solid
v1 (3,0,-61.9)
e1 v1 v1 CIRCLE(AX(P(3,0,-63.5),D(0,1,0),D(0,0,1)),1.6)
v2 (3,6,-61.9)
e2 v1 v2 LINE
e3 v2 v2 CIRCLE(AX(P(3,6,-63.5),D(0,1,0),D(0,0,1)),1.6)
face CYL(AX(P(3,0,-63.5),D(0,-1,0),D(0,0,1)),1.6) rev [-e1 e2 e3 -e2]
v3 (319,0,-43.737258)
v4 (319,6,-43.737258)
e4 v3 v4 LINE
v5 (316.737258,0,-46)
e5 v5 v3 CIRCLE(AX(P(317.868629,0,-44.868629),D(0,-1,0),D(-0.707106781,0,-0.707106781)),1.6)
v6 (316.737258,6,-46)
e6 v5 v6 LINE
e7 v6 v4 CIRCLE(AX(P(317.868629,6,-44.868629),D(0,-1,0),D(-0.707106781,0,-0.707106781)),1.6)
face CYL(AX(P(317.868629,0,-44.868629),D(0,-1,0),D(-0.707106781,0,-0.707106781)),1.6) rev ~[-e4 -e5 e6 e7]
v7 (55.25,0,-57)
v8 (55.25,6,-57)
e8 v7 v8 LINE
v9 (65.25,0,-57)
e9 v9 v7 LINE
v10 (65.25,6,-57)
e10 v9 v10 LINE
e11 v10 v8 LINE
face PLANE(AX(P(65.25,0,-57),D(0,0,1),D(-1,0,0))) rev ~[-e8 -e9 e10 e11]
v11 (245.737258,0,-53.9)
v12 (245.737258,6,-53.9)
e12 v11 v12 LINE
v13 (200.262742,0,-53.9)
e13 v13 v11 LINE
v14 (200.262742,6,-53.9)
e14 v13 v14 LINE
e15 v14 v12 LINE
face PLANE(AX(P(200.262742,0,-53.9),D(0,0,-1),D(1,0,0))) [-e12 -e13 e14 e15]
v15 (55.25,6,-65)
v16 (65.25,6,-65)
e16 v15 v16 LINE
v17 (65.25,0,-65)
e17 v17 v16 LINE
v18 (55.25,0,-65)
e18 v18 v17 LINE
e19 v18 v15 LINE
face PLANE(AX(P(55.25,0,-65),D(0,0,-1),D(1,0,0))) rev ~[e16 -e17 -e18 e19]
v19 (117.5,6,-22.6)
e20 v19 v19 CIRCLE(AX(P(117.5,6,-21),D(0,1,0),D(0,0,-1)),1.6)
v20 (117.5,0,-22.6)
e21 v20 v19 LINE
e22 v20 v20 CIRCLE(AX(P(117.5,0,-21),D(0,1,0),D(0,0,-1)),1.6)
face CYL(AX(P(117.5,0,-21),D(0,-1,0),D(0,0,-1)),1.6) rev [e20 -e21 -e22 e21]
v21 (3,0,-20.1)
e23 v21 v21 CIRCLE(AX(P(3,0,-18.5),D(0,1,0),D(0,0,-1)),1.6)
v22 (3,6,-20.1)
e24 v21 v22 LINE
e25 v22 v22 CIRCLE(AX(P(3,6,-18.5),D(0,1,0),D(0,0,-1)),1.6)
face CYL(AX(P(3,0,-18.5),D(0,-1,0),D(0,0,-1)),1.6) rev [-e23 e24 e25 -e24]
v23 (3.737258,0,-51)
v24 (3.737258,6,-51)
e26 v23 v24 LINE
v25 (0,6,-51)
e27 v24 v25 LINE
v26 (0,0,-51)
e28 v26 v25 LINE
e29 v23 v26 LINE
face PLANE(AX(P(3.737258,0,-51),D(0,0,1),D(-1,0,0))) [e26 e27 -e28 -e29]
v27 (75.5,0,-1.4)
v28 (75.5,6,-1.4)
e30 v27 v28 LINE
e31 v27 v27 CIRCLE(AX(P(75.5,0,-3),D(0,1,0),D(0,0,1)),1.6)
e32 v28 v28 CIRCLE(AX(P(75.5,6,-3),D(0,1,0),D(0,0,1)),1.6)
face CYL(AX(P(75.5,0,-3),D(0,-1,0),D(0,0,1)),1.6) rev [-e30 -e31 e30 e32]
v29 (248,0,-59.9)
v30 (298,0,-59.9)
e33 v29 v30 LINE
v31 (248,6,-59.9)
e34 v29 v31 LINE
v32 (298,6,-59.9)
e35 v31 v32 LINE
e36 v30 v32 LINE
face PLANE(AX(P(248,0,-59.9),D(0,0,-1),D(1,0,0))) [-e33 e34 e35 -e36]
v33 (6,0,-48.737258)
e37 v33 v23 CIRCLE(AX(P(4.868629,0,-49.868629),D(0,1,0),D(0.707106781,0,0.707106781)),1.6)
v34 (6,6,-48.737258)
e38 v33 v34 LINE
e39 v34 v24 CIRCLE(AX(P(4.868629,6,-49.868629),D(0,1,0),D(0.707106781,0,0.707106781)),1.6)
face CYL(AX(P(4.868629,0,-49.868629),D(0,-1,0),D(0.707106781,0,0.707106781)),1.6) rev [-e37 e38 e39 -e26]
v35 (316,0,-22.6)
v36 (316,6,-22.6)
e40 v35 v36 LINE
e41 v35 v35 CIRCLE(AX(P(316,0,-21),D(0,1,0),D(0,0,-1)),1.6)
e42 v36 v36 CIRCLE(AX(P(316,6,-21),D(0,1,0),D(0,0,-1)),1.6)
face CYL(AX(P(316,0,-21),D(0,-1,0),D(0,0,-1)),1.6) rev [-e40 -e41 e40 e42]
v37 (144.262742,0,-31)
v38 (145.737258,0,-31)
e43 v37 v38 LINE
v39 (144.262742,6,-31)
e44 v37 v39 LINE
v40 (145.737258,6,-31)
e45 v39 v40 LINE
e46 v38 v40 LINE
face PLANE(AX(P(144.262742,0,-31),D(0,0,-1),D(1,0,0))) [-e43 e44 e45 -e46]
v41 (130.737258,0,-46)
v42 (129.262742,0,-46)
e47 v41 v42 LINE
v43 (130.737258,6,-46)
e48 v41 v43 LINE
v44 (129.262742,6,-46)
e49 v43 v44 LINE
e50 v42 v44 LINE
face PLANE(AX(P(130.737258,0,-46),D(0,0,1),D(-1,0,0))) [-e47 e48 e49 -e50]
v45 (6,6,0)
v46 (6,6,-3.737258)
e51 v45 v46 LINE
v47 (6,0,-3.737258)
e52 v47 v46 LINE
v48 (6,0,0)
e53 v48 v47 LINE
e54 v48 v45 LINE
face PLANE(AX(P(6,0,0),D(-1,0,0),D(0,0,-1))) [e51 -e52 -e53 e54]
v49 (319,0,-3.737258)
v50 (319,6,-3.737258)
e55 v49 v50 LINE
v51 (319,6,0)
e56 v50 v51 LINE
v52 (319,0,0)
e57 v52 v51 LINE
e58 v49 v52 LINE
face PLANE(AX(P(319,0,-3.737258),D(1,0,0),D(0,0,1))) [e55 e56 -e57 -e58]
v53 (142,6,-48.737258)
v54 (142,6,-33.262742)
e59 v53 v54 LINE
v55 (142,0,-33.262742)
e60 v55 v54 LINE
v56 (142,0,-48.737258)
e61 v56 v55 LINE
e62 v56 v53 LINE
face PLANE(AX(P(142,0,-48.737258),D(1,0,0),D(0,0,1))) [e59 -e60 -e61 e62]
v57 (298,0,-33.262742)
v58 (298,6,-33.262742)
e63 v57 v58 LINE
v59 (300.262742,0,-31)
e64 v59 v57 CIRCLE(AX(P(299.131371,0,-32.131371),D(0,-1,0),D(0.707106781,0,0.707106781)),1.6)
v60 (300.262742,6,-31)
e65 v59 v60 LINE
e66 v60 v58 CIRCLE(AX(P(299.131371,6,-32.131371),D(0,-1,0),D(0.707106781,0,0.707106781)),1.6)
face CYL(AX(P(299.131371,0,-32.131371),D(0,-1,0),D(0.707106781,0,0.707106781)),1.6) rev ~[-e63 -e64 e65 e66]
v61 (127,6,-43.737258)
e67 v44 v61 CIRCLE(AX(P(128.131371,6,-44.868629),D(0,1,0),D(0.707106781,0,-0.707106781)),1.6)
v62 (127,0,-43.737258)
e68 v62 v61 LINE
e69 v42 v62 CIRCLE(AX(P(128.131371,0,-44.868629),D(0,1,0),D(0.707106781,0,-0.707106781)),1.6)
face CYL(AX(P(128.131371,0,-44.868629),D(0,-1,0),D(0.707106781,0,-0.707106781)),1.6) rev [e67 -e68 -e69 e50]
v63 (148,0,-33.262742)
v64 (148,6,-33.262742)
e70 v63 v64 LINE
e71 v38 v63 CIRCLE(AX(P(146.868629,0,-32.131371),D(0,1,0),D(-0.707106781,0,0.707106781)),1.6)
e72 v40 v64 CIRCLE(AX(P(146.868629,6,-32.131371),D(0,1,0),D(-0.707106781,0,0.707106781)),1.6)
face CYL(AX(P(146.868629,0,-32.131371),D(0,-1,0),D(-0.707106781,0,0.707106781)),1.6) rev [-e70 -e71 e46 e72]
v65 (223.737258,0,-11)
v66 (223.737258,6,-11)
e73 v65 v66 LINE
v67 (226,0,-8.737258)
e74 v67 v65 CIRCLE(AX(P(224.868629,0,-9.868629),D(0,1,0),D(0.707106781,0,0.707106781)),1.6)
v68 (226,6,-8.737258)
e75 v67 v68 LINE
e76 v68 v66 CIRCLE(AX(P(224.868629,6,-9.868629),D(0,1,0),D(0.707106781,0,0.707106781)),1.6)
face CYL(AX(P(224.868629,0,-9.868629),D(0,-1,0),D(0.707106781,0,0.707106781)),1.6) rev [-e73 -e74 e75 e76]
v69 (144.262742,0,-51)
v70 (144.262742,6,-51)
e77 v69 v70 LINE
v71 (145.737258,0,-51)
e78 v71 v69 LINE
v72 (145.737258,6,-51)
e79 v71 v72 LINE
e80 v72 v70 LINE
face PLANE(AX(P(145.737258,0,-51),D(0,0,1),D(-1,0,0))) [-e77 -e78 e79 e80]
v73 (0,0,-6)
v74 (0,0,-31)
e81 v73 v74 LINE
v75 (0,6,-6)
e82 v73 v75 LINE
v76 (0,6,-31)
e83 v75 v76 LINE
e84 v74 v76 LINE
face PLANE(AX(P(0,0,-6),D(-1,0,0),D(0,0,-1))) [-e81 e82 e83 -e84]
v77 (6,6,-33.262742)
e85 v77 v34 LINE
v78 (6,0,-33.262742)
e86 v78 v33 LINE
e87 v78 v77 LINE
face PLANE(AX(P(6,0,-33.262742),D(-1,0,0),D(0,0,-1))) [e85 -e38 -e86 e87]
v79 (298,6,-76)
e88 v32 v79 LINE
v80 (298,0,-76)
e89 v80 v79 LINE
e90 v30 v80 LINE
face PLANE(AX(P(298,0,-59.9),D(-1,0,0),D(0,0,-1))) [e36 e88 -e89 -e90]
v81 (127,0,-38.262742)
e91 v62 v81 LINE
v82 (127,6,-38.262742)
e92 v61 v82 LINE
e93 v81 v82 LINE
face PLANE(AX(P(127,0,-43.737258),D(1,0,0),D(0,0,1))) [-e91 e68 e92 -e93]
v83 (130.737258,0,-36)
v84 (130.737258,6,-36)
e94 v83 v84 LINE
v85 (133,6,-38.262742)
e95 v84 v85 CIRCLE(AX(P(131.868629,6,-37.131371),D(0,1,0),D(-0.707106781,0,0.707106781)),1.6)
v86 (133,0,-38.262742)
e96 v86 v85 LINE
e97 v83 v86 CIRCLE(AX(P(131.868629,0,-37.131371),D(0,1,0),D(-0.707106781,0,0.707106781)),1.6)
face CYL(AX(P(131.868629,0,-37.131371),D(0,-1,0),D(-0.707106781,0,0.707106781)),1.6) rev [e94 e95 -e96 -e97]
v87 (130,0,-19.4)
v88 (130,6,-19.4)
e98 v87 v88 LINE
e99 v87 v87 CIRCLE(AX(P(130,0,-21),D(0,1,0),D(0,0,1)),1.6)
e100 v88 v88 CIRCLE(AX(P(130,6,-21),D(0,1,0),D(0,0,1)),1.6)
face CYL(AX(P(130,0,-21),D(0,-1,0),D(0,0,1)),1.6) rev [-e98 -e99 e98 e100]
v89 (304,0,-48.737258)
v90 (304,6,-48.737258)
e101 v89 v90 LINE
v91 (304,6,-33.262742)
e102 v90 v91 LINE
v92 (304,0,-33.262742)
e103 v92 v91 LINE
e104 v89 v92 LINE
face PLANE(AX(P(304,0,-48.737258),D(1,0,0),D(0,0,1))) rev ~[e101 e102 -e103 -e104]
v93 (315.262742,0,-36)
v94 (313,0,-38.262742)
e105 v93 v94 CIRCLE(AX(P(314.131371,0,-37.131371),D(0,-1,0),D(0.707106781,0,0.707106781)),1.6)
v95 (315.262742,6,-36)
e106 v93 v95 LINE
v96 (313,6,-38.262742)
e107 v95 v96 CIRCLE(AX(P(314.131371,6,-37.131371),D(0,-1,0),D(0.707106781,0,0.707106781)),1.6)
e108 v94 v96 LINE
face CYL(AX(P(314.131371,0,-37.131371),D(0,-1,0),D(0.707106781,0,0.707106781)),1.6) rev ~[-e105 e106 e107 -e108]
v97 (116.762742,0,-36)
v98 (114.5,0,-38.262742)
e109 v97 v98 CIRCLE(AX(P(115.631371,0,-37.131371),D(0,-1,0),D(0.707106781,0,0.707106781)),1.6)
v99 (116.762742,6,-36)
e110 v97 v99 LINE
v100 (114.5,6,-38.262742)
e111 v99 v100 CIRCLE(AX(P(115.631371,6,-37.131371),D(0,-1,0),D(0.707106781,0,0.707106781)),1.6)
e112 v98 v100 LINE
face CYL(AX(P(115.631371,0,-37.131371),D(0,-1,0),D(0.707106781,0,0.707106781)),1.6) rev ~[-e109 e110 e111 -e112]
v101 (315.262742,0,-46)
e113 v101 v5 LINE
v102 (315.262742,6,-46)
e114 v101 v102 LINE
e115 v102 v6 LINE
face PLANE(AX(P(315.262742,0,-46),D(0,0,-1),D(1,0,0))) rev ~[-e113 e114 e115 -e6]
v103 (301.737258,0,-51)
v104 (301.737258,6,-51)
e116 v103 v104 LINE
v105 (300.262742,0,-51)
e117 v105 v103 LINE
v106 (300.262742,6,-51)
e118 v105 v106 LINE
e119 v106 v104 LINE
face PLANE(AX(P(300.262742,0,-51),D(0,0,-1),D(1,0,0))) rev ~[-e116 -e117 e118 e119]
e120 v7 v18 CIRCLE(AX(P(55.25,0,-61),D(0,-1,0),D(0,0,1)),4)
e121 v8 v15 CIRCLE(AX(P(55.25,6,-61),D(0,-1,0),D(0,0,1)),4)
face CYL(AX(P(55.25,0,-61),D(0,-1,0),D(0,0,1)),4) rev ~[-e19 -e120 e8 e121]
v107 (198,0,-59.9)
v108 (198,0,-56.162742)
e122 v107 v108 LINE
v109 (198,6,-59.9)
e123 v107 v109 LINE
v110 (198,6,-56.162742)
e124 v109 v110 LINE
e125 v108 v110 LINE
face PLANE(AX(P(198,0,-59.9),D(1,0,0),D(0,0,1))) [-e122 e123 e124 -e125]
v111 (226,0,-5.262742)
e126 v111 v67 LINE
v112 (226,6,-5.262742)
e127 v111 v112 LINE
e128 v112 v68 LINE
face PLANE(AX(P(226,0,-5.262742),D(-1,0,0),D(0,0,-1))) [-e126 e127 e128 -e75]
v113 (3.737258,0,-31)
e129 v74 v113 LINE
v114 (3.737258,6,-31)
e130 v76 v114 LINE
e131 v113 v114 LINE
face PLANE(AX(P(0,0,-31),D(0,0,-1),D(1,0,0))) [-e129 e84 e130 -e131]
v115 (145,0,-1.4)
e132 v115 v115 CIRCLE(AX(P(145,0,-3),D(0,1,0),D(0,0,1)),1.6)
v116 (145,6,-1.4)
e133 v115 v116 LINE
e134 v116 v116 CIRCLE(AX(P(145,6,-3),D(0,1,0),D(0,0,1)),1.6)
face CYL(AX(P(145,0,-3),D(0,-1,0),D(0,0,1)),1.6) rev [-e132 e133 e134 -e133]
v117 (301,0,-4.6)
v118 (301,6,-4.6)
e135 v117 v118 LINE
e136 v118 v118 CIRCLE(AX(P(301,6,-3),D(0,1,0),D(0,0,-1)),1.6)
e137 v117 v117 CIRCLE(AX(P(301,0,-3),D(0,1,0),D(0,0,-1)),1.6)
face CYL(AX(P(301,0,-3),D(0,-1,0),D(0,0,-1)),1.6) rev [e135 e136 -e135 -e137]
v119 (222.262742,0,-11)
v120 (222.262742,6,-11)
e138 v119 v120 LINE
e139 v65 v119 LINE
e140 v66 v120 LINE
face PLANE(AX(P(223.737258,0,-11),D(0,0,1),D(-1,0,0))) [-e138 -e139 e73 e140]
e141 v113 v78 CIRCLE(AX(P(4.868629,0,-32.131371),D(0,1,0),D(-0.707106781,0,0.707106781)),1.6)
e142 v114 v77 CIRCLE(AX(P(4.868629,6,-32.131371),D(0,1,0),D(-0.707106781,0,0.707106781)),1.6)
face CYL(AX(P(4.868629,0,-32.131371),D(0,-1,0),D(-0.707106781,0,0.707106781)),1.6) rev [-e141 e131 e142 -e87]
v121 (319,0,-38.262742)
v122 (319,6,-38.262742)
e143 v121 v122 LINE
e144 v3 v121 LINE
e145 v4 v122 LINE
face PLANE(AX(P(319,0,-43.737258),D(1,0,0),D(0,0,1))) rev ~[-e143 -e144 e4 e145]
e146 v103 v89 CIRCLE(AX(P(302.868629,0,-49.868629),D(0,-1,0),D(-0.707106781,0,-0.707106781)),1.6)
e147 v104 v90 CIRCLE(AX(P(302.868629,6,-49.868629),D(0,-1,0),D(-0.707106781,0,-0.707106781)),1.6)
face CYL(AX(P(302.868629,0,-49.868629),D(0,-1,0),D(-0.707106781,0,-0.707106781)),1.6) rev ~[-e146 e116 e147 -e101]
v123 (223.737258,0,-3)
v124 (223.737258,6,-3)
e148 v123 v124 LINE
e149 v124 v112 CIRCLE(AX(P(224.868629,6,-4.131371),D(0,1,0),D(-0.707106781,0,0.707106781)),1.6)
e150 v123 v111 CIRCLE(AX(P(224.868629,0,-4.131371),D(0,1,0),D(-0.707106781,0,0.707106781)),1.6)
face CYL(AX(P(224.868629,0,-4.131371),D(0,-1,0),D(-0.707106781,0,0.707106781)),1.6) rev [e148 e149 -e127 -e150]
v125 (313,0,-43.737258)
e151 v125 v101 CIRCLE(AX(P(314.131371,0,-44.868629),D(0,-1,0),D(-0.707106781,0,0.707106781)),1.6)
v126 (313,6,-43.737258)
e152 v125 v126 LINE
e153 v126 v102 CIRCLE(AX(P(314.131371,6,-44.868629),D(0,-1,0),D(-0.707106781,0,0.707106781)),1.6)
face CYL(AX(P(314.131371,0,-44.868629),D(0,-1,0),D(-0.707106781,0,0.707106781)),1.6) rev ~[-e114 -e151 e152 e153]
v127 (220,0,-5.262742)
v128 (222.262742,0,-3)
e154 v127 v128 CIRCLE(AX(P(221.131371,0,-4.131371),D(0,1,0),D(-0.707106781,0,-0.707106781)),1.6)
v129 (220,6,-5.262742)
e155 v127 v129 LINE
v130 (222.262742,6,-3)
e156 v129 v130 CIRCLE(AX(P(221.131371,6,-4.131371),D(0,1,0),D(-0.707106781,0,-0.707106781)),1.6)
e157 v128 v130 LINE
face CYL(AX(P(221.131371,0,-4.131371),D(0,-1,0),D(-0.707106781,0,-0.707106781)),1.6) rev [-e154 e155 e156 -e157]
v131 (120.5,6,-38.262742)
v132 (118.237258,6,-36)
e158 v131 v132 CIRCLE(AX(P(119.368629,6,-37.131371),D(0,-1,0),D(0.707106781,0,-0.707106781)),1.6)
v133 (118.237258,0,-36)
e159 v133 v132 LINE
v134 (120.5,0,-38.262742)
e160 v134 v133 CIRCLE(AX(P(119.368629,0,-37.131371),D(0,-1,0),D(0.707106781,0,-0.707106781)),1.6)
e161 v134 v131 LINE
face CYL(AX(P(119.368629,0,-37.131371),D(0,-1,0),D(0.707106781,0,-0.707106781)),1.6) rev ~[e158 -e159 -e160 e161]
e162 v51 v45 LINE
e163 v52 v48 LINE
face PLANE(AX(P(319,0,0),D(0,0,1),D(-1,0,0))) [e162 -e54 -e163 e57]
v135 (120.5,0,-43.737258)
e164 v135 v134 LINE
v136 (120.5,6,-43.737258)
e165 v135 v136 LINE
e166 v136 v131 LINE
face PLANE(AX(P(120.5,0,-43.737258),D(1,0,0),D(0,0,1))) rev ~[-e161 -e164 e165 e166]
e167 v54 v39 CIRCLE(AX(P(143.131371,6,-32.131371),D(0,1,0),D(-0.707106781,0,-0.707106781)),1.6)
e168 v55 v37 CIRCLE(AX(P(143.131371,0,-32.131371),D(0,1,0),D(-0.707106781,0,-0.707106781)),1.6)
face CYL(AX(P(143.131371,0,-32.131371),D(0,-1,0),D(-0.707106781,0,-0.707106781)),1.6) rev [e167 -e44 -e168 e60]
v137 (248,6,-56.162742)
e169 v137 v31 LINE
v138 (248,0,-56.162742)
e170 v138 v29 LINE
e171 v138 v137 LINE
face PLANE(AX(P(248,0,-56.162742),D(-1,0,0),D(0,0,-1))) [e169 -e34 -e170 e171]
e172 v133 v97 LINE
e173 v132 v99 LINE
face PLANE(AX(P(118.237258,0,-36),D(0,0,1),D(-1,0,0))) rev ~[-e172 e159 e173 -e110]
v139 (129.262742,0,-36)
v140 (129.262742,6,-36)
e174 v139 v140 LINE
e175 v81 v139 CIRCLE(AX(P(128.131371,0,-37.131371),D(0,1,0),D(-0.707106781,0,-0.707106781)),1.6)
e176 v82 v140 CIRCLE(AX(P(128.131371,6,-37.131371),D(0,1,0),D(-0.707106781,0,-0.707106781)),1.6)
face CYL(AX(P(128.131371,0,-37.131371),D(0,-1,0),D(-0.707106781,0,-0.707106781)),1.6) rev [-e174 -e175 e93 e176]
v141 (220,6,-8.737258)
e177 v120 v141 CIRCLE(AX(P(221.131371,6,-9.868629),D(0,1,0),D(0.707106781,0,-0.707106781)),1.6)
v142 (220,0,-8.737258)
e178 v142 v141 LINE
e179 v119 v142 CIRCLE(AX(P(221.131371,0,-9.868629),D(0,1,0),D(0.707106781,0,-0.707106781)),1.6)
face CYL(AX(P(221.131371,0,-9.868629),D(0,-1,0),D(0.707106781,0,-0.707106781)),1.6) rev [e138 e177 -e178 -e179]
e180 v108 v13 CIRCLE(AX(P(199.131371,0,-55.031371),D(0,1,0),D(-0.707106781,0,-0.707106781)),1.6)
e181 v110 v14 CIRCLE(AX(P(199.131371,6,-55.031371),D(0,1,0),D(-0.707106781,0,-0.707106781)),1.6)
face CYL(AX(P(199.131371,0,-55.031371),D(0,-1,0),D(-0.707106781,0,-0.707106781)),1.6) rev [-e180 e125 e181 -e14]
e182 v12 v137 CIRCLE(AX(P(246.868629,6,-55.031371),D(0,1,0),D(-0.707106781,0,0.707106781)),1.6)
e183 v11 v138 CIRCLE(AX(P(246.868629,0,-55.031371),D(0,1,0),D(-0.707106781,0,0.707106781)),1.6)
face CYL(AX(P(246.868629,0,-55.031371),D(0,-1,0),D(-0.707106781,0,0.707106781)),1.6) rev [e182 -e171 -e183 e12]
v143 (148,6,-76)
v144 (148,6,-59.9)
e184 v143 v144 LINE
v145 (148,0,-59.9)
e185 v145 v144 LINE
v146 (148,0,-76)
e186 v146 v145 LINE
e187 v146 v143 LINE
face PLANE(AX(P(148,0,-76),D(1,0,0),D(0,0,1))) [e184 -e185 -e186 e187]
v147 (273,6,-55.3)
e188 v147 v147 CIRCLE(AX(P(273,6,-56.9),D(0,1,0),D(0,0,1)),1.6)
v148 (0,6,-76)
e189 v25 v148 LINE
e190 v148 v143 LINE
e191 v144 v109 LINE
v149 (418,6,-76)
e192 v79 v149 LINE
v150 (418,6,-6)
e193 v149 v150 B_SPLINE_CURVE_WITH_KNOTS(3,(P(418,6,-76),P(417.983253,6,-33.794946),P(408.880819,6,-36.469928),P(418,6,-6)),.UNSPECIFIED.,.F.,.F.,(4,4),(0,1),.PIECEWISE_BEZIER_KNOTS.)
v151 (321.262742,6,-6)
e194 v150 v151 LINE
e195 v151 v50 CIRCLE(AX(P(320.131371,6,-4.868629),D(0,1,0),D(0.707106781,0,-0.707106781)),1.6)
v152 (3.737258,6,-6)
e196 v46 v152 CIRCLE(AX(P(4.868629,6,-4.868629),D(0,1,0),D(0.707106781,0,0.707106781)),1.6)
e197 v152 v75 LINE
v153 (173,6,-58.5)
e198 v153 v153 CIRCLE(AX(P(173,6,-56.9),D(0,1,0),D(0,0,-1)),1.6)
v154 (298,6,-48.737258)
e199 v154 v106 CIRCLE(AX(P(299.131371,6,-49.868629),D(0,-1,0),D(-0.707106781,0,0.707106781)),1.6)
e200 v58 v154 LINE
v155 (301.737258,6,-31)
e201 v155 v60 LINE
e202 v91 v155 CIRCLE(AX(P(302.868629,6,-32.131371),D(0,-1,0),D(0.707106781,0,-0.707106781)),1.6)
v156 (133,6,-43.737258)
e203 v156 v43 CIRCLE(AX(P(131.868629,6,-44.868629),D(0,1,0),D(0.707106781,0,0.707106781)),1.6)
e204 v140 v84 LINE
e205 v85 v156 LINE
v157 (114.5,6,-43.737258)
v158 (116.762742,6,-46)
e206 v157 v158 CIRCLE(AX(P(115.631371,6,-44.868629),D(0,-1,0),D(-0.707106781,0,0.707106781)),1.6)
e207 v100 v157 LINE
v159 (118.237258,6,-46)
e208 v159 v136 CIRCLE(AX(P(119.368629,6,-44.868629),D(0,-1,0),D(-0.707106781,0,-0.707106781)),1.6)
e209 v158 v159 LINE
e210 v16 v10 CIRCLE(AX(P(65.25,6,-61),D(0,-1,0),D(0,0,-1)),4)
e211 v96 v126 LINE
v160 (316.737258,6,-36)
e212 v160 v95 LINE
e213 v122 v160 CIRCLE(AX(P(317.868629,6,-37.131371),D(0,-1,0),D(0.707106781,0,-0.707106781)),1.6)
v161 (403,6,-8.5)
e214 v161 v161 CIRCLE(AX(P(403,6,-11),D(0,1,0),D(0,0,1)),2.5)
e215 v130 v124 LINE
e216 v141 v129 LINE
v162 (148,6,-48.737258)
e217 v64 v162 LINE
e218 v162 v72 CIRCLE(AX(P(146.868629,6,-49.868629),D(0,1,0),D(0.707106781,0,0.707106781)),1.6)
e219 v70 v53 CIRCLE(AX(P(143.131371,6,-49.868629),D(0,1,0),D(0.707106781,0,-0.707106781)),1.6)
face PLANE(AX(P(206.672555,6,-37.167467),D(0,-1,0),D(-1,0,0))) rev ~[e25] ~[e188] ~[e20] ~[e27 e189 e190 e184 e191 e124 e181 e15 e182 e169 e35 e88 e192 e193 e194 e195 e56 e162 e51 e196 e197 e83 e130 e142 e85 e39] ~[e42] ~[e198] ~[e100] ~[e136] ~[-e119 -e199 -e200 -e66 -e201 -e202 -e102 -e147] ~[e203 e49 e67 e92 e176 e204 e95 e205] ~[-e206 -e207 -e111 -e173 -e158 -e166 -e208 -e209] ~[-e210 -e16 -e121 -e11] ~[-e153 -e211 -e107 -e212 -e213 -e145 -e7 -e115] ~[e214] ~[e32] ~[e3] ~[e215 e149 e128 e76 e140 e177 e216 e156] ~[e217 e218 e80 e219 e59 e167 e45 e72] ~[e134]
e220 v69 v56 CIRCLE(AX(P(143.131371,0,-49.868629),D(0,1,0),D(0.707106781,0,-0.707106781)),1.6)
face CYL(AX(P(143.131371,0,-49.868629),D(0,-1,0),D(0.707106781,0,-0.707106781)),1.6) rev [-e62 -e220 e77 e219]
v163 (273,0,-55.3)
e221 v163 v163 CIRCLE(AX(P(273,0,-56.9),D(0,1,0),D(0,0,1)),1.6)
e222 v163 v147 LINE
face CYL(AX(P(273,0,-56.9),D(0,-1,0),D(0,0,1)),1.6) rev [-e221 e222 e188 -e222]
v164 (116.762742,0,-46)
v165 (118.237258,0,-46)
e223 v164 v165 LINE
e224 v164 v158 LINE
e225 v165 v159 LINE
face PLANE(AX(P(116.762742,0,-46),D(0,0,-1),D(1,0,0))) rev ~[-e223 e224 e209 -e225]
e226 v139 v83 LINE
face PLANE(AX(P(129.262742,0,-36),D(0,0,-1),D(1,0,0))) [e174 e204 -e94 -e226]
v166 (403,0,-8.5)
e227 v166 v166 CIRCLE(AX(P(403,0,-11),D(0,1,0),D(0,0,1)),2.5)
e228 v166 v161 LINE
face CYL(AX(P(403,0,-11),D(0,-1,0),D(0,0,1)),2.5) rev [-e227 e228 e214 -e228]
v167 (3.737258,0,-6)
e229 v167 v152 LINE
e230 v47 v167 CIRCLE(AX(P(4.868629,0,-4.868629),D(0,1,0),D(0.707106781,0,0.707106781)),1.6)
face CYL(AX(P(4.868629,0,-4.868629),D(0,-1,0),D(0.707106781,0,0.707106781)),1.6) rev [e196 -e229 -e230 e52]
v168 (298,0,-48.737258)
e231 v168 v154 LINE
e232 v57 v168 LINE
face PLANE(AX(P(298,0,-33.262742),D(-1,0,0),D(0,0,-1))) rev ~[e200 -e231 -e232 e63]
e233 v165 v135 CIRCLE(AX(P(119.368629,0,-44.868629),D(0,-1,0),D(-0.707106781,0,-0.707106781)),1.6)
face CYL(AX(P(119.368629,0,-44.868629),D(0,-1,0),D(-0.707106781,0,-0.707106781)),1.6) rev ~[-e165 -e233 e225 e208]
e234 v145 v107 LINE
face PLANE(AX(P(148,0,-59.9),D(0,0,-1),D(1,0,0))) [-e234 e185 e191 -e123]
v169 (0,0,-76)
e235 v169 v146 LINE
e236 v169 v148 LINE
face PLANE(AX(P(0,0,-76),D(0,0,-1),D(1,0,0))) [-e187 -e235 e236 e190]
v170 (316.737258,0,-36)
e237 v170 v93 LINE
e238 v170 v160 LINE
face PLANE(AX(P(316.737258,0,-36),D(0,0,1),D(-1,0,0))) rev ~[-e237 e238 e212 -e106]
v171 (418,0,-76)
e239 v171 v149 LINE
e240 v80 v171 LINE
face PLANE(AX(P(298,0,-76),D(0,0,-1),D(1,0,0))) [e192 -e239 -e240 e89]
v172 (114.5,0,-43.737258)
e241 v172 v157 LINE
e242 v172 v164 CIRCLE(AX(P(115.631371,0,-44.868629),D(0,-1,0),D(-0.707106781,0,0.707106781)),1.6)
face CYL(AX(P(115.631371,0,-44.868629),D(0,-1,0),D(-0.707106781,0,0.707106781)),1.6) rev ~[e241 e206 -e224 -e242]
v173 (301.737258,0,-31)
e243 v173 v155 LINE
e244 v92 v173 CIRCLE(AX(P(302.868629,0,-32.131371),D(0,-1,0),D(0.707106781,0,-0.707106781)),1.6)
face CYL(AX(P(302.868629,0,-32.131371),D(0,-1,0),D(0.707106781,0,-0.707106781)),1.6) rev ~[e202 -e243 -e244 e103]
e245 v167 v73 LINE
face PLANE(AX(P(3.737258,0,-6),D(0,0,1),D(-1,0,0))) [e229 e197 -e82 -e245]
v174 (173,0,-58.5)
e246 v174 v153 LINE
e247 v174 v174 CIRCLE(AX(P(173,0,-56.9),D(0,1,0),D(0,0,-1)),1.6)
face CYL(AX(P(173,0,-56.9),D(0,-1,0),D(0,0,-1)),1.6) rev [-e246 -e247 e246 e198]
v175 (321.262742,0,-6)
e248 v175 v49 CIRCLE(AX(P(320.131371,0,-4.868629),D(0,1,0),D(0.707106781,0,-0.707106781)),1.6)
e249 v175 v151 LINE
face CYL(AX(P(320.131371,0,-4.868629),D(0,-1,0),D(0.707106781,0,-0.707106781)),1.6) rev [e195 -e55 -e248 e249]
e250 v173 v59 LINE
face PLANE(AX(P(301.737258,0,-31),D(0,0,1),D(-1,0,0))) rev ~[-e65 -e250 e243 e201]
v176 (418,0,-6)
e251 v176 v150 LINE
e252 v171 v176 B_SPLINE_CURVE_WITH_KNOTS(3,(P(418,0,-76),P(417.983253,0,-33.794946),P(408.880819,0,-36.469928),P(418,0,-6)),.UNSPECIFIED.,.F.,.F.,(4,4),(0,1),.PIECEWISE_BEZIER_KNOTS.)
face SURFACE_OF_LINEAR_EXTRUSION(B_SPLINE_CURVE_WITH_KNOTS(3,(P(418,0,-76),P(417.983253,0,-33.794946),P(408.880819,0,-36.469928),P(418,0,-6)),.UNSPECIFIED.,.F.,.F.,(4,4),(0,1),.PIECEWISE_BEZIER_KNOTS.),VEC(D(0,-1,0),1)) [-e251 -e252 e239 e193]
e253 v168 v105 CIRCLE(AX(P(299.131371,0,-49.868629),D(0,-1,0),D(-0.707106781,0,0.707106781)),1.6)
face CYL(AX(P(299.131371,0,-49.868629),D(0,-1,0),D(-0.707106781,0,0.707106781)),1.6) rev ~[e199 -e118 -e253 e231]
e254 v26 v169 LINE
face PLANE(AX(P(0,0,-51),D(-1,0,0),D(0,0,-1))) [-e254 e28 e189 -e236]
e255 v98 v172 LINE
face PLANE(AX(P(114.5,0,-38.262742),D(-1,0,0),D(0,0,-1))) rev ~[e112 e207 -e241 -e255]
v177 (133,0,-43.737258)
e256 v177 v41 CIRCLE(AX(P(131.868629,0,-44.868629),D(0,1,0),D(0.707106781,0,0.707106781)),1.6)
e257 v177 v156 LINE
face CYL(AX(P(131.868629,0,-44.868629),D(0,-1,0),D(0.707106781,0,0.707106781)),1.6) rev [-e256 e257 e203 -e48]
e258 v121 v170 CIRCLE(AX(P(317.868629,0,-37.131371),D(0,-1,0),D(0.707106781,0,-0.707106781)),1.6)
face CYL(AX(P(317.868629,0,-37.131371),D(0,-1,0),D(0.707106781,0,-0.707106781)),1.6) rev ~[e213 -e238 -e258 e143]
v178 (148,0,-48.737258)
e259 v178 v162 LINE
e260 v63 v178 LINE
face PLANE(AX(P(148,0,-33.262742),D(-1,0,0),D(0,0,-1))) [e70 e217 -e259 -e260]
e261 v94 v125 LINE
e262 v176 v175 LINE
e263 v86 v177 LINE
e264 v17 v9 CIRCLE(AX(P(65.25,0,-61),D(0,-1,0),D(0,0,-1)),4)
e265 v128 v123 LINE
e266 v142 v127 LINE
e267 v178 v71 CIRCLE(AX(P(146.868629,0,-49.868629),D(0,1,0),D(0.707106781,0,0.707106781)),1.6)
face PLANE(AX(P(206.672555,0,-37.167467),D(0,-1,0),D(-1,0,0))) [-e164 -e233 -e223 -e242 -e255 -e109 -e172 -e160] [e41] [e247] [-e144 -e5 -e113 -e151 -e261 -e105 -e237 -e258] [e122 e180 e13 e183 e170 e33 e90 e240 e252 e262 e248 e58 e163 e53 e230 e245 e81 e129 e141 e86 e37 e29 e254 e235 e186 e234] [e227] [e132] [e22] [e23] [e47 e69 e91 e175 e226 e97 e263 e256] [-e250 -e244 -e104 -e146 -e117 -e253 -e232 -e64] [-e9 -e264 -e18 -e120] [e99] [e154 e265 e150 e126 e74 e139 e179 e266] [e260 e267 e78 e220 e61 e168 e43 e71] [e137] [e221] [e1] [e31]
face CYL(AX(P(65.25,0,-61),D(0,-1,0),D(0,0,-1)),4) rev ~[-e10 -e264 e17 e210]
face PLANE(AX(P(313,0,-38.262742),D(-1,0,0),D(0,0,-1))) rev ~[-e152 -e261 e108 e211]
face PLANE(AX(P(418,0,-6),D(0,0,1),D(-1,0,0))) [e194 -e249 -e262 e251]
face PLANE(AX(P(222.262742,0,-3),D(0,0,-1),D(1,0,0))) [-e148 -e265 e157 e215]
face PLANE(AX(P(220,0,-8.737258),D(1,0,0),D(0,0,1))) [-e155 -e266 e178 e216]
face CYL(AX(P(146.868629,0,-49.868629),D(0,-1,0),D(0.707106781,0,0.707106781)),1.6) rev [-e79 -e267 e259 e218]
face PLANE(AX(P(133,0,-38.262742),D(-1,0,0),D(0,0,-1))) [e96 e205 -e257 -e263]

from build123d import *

# Parameters (mm, degrees)
ESQUISSE1_R        = 1.6
ESQUISSE1_R_2      = 2.5
BOSS_EXTRU_1_DEPTH = 6


with BuildPart() as part:
    # Esquisse1 → Boss.-Extru.1 (new body)
    with BuildSketch(Plane(origin=(0, 0, 0), x_dir=(1, 0, 0), z_dir=(0, 1, 0))):
        with BuildLine():
            Line((6, 33.2627417), (6, 48.7372583))
            ThreePointArc((6, 48.7372583), (6, 51), (3.7372583, 51))
            Line((3.7372583, 51), (0, 51))
            Line((0, 51), (0, 76))
            Line((0, 76), (148, 76))
            Line((148, 76), (148, 59.9))
            Line((148, 59.9), (198, 59.9))
            Line((198, 59.9), (198, 56.1627417))
            ThreePointArc((198, 56.1627417), (198, 53.9), (200.2627417, 53.9))
            Line((200.2627417, 53.9), (245.7372583, 53.9))
            ThreePointArc((245.7372583, 53.9), (248, 53.9), (248, 56.1627417))
            Line((248, 56.1627417), (248, 59.9))
            Line((248, 59.9), (298, 59.9))
            Line((298, 59.9), (298, 76))
            Line((298, 76), (418, 76))
            add(Edge.make_bspline(
                [(418, 76), (417.983253291, 33.794946315), (408.880818962, 36.469928489), (418, 6)],
                knots=[0, 0, 0, 0, 1, 1, 1, 1], degree=3))
            Line((418, 6), (321.2627417, 6))
            ThreePointArc((321.2627417, 6), (319, 6), (319, 3.7372583))
            Line((319, 3.7372583), (319, 0))
            Line((319, 0), (6, 0))
            Line((6, 0), (6, 3.7372583))
            ThreePointArc((6, 3.7372583), (6, 6), (3.7372583, 6))
            Line((3.7372583, 6), (0, 6))
            Line((0, 6), (0, 31))
            Line((0, 31), (3.7372583, 31))
            ThreePointArc((3.7372583, 31), (6, 31), (6, 33.2627417))
        make_face()
        with Locations(Location((75.5, 3, 0), (0, 0, 270))):  # turned: the seam where the file's is
            Circle(ESQUISSE1_R, mode=Mode.SUBTRACT)
        with Locations(Location((3, 63.5, 0), (0, 0, 270))):  # turned: the seam where the file's is
            Circle(ESQUISSE1_R, mode=Mode.SUBTRACT)
        with Locations(Location((3, 18.5, 0), (0, 0, 90))):  # turned: the seam where the file's is
            Circle(ESQUISSE1_R, mode=Mode.SUBTRACT)
        with Locations(Location((130, 21, 0), (0, 0, 270))):  # turned: the seam where the file's is
            Circle(ESQUISSE1_R, mode=Mode.SUBTRACT)
        with Locations(Location((145, 3, 0), (0, 0, 270))):  # turned: the seam where the file's is
            Circle(ESQUISSE1_R, mode=Mode.SUBTRACT)
        with Locations(Location((301, 3, 0), (0, 0, 90))):  # turned: the seam where the file's is
            Circle(ESQUISSE1_R, mode=Mode.SUBTRACT)
        with Locations(Location((316, 21, 0), (0, 0, 90))):  # turned: the seam where the file's is
            Circle(ESQUISSE1_R, mode=Mode.SUBTRACT)
        with Locations(Location((117.5, 21, 0), (0, 0, 90))):  # turned: the seam where the file's is
            Circle(ESQUISSE1_R, mode=Mode.SUBTRACT)
        with Locations(Location((273, 56.9, 0), (0, 0, 270))):  # turned: the seam where the file's is
            Circle(ESQUISSE1_R, mode=Mode.SUBTRACT)
        with Locations(Location((173, 56.9, 0), (0, 0, 90))):  # turned: the seam where the file's is
            Circle(ESQUISSE1_R, mode=Mode.SUBTRACT)
        with Locations(Location((403, 11, 0), (0, 0, 270))):  # turned: the seam where the file's is
            Circle(ESQUISSE1_R_2, mode=Mode.SUBTRACT)
        with BuildLine():
            Line((300.2627417, 51), (301.7372583, 51))
            ThreePointArc((301.7372583, 51), (304, 51), (304, 48.7372583))
            Line((304, 48.7372583), (304, 33.2627417))
            ThreePointArc((304, 33.2627417), (304, 31), (301.7372583, 31))
            Line((301.7372583, 31), (300.2627417, 31))
            ThreePointArc((300.2627417, 31), (298, 31), (298, 33.2627417))
            Line((298, 33.2627417), (298, 48.7372583))
            ThreePointArc((298, 48.7372583), (298, 51), (300.2627417, 51))
        make_face(mode=Mode.SUBTRACT)
        with BuildLine():
            Line((130.7372583, 46), (129.2627417, 46))
            ThreePointArc((129.2627417, 46), (127, 46), (127, 43.7372583))
            Line((127, 43.7372583), (127, 38.2627417))
            ThreePointArc((127, 38.2627417), (127, 36), (129.2627417, 36))
            Line((129.2627417, 36), (130.7372583, 36))
            ThreePointArc((130.7372583, 36), (133, 36), (133, 38.2627417))
            Line((133, 38.2627417), (133, 43.7372583))
            ThreePointArc((133, 43.7372583), (133, 46), (130.7372583, 46))
        make_face(mode=Mode.SUBTRACT)
        with BuildLine():
            Line((313, 38.2627417), (313, 43.7372583))
            ThreePointArc((313, 43.7372583), (313, 46), (315.2627417, 46))
            Line((315.2627417, 46), (316.7372583, 46))
            ThreePointArc((316.7372583, 46), (319, 46), (319, 43.7372583))
            Line((319, 43.7372583), (319, 38.2627417))
            ThreePointArc((319, 38.2627417), (319, 36), (316.7372583, 36))
            Line((316.7372583, 36), (315.2627417, 36))
            ThreePointArc((315.2627417, 36), (313, 36), (313, 38.2627417))
        make_face(mode=Mode.SUBTRACT)
        with BuildLine():
            Line((148, 33.2627417), (148, 48.7372583))
            ThreePointArc((148, 48.7372583), (148, 51), (145.7372583, 51))
            Line((145.7372583, 51), (144.2627417, 51))
            ThreePointArc((144.2627417, 51), (142, 51), (142, 48.7372583))
            Line((142, 48.7372583), (142, 33.2627417))
            ThreePointArc((142, 33.2627417), (142, 31), (144.2627417, 31))
            Line((144.2627417, 31), (145.7372583, 31))
            ThreePointArc((145.7372583, 31), (148, 31), (148, 33.2627417))
        make_face(mode=Mode.SUBTRACT)
        with BuildLine():
            Line((114.5, 38.2627417), (114.5, 43.7372583))
            ThreePointArc((114.5, 43.7372583), (114.5, 46), (116.7627417, 46))
            Line((116.7627417, 46), (118.2372583, 46))
            ThreePointArc((118.2372583, 46), (120.5, 46), (120.5, 43.7372583))
            Line((120.5, 43.7372583), (120.5, 38.2627417))
            ThreePointArc((120.5, 38.2627417), (120.5, 36), (118.2372583, 36))
            Line((118.2372583, 36), (116.7627417, 36))
            ThreePointArc((116.7627417, 36), (114.5, 36), (114.5, 38.2627417))
        make_face(mode=Mode.SUBTRACT)
        with BuildLine():
            Line((55.25, 65), (65.25, 65))
            ThreePointArc((65.25, 65), (69.25, 61), (65.25, 57))
            Line((65.25, 57), (55.25, 57))
            ThreePointArc((55.25, 57), (51.25, 61), (55.25, 65))
        make_face(mode=Mode.SUBTRACT)
        with BuildLine():
            Line((220, 8.7372583), (220, 5.2627417))
            ThreePointArc((220, 5.2627417), (220, 3), (222.2627417, 3))
            Line((222.2627417, 3), (223.7372583, 3))
            ThreePointArc((223.7372583, 3), (226, 3), (226, 5.2627417))
            Line((226, 5.2627417), (226, 8.7372583))
            ThreePointArc((226, 8.7372583), (226, 11), (223.7372583, 11))
            Line((223.7372583, 11), (222.2627417, 11))
            ThreePointArc((222.2627417, 11), (220, 11), (220, 8.7372583))
        make_face(mode=Mode.SUBTRACT)
    extrude(amount=BOSS_EXTRU_1_DEPTH)


solid = part.part
